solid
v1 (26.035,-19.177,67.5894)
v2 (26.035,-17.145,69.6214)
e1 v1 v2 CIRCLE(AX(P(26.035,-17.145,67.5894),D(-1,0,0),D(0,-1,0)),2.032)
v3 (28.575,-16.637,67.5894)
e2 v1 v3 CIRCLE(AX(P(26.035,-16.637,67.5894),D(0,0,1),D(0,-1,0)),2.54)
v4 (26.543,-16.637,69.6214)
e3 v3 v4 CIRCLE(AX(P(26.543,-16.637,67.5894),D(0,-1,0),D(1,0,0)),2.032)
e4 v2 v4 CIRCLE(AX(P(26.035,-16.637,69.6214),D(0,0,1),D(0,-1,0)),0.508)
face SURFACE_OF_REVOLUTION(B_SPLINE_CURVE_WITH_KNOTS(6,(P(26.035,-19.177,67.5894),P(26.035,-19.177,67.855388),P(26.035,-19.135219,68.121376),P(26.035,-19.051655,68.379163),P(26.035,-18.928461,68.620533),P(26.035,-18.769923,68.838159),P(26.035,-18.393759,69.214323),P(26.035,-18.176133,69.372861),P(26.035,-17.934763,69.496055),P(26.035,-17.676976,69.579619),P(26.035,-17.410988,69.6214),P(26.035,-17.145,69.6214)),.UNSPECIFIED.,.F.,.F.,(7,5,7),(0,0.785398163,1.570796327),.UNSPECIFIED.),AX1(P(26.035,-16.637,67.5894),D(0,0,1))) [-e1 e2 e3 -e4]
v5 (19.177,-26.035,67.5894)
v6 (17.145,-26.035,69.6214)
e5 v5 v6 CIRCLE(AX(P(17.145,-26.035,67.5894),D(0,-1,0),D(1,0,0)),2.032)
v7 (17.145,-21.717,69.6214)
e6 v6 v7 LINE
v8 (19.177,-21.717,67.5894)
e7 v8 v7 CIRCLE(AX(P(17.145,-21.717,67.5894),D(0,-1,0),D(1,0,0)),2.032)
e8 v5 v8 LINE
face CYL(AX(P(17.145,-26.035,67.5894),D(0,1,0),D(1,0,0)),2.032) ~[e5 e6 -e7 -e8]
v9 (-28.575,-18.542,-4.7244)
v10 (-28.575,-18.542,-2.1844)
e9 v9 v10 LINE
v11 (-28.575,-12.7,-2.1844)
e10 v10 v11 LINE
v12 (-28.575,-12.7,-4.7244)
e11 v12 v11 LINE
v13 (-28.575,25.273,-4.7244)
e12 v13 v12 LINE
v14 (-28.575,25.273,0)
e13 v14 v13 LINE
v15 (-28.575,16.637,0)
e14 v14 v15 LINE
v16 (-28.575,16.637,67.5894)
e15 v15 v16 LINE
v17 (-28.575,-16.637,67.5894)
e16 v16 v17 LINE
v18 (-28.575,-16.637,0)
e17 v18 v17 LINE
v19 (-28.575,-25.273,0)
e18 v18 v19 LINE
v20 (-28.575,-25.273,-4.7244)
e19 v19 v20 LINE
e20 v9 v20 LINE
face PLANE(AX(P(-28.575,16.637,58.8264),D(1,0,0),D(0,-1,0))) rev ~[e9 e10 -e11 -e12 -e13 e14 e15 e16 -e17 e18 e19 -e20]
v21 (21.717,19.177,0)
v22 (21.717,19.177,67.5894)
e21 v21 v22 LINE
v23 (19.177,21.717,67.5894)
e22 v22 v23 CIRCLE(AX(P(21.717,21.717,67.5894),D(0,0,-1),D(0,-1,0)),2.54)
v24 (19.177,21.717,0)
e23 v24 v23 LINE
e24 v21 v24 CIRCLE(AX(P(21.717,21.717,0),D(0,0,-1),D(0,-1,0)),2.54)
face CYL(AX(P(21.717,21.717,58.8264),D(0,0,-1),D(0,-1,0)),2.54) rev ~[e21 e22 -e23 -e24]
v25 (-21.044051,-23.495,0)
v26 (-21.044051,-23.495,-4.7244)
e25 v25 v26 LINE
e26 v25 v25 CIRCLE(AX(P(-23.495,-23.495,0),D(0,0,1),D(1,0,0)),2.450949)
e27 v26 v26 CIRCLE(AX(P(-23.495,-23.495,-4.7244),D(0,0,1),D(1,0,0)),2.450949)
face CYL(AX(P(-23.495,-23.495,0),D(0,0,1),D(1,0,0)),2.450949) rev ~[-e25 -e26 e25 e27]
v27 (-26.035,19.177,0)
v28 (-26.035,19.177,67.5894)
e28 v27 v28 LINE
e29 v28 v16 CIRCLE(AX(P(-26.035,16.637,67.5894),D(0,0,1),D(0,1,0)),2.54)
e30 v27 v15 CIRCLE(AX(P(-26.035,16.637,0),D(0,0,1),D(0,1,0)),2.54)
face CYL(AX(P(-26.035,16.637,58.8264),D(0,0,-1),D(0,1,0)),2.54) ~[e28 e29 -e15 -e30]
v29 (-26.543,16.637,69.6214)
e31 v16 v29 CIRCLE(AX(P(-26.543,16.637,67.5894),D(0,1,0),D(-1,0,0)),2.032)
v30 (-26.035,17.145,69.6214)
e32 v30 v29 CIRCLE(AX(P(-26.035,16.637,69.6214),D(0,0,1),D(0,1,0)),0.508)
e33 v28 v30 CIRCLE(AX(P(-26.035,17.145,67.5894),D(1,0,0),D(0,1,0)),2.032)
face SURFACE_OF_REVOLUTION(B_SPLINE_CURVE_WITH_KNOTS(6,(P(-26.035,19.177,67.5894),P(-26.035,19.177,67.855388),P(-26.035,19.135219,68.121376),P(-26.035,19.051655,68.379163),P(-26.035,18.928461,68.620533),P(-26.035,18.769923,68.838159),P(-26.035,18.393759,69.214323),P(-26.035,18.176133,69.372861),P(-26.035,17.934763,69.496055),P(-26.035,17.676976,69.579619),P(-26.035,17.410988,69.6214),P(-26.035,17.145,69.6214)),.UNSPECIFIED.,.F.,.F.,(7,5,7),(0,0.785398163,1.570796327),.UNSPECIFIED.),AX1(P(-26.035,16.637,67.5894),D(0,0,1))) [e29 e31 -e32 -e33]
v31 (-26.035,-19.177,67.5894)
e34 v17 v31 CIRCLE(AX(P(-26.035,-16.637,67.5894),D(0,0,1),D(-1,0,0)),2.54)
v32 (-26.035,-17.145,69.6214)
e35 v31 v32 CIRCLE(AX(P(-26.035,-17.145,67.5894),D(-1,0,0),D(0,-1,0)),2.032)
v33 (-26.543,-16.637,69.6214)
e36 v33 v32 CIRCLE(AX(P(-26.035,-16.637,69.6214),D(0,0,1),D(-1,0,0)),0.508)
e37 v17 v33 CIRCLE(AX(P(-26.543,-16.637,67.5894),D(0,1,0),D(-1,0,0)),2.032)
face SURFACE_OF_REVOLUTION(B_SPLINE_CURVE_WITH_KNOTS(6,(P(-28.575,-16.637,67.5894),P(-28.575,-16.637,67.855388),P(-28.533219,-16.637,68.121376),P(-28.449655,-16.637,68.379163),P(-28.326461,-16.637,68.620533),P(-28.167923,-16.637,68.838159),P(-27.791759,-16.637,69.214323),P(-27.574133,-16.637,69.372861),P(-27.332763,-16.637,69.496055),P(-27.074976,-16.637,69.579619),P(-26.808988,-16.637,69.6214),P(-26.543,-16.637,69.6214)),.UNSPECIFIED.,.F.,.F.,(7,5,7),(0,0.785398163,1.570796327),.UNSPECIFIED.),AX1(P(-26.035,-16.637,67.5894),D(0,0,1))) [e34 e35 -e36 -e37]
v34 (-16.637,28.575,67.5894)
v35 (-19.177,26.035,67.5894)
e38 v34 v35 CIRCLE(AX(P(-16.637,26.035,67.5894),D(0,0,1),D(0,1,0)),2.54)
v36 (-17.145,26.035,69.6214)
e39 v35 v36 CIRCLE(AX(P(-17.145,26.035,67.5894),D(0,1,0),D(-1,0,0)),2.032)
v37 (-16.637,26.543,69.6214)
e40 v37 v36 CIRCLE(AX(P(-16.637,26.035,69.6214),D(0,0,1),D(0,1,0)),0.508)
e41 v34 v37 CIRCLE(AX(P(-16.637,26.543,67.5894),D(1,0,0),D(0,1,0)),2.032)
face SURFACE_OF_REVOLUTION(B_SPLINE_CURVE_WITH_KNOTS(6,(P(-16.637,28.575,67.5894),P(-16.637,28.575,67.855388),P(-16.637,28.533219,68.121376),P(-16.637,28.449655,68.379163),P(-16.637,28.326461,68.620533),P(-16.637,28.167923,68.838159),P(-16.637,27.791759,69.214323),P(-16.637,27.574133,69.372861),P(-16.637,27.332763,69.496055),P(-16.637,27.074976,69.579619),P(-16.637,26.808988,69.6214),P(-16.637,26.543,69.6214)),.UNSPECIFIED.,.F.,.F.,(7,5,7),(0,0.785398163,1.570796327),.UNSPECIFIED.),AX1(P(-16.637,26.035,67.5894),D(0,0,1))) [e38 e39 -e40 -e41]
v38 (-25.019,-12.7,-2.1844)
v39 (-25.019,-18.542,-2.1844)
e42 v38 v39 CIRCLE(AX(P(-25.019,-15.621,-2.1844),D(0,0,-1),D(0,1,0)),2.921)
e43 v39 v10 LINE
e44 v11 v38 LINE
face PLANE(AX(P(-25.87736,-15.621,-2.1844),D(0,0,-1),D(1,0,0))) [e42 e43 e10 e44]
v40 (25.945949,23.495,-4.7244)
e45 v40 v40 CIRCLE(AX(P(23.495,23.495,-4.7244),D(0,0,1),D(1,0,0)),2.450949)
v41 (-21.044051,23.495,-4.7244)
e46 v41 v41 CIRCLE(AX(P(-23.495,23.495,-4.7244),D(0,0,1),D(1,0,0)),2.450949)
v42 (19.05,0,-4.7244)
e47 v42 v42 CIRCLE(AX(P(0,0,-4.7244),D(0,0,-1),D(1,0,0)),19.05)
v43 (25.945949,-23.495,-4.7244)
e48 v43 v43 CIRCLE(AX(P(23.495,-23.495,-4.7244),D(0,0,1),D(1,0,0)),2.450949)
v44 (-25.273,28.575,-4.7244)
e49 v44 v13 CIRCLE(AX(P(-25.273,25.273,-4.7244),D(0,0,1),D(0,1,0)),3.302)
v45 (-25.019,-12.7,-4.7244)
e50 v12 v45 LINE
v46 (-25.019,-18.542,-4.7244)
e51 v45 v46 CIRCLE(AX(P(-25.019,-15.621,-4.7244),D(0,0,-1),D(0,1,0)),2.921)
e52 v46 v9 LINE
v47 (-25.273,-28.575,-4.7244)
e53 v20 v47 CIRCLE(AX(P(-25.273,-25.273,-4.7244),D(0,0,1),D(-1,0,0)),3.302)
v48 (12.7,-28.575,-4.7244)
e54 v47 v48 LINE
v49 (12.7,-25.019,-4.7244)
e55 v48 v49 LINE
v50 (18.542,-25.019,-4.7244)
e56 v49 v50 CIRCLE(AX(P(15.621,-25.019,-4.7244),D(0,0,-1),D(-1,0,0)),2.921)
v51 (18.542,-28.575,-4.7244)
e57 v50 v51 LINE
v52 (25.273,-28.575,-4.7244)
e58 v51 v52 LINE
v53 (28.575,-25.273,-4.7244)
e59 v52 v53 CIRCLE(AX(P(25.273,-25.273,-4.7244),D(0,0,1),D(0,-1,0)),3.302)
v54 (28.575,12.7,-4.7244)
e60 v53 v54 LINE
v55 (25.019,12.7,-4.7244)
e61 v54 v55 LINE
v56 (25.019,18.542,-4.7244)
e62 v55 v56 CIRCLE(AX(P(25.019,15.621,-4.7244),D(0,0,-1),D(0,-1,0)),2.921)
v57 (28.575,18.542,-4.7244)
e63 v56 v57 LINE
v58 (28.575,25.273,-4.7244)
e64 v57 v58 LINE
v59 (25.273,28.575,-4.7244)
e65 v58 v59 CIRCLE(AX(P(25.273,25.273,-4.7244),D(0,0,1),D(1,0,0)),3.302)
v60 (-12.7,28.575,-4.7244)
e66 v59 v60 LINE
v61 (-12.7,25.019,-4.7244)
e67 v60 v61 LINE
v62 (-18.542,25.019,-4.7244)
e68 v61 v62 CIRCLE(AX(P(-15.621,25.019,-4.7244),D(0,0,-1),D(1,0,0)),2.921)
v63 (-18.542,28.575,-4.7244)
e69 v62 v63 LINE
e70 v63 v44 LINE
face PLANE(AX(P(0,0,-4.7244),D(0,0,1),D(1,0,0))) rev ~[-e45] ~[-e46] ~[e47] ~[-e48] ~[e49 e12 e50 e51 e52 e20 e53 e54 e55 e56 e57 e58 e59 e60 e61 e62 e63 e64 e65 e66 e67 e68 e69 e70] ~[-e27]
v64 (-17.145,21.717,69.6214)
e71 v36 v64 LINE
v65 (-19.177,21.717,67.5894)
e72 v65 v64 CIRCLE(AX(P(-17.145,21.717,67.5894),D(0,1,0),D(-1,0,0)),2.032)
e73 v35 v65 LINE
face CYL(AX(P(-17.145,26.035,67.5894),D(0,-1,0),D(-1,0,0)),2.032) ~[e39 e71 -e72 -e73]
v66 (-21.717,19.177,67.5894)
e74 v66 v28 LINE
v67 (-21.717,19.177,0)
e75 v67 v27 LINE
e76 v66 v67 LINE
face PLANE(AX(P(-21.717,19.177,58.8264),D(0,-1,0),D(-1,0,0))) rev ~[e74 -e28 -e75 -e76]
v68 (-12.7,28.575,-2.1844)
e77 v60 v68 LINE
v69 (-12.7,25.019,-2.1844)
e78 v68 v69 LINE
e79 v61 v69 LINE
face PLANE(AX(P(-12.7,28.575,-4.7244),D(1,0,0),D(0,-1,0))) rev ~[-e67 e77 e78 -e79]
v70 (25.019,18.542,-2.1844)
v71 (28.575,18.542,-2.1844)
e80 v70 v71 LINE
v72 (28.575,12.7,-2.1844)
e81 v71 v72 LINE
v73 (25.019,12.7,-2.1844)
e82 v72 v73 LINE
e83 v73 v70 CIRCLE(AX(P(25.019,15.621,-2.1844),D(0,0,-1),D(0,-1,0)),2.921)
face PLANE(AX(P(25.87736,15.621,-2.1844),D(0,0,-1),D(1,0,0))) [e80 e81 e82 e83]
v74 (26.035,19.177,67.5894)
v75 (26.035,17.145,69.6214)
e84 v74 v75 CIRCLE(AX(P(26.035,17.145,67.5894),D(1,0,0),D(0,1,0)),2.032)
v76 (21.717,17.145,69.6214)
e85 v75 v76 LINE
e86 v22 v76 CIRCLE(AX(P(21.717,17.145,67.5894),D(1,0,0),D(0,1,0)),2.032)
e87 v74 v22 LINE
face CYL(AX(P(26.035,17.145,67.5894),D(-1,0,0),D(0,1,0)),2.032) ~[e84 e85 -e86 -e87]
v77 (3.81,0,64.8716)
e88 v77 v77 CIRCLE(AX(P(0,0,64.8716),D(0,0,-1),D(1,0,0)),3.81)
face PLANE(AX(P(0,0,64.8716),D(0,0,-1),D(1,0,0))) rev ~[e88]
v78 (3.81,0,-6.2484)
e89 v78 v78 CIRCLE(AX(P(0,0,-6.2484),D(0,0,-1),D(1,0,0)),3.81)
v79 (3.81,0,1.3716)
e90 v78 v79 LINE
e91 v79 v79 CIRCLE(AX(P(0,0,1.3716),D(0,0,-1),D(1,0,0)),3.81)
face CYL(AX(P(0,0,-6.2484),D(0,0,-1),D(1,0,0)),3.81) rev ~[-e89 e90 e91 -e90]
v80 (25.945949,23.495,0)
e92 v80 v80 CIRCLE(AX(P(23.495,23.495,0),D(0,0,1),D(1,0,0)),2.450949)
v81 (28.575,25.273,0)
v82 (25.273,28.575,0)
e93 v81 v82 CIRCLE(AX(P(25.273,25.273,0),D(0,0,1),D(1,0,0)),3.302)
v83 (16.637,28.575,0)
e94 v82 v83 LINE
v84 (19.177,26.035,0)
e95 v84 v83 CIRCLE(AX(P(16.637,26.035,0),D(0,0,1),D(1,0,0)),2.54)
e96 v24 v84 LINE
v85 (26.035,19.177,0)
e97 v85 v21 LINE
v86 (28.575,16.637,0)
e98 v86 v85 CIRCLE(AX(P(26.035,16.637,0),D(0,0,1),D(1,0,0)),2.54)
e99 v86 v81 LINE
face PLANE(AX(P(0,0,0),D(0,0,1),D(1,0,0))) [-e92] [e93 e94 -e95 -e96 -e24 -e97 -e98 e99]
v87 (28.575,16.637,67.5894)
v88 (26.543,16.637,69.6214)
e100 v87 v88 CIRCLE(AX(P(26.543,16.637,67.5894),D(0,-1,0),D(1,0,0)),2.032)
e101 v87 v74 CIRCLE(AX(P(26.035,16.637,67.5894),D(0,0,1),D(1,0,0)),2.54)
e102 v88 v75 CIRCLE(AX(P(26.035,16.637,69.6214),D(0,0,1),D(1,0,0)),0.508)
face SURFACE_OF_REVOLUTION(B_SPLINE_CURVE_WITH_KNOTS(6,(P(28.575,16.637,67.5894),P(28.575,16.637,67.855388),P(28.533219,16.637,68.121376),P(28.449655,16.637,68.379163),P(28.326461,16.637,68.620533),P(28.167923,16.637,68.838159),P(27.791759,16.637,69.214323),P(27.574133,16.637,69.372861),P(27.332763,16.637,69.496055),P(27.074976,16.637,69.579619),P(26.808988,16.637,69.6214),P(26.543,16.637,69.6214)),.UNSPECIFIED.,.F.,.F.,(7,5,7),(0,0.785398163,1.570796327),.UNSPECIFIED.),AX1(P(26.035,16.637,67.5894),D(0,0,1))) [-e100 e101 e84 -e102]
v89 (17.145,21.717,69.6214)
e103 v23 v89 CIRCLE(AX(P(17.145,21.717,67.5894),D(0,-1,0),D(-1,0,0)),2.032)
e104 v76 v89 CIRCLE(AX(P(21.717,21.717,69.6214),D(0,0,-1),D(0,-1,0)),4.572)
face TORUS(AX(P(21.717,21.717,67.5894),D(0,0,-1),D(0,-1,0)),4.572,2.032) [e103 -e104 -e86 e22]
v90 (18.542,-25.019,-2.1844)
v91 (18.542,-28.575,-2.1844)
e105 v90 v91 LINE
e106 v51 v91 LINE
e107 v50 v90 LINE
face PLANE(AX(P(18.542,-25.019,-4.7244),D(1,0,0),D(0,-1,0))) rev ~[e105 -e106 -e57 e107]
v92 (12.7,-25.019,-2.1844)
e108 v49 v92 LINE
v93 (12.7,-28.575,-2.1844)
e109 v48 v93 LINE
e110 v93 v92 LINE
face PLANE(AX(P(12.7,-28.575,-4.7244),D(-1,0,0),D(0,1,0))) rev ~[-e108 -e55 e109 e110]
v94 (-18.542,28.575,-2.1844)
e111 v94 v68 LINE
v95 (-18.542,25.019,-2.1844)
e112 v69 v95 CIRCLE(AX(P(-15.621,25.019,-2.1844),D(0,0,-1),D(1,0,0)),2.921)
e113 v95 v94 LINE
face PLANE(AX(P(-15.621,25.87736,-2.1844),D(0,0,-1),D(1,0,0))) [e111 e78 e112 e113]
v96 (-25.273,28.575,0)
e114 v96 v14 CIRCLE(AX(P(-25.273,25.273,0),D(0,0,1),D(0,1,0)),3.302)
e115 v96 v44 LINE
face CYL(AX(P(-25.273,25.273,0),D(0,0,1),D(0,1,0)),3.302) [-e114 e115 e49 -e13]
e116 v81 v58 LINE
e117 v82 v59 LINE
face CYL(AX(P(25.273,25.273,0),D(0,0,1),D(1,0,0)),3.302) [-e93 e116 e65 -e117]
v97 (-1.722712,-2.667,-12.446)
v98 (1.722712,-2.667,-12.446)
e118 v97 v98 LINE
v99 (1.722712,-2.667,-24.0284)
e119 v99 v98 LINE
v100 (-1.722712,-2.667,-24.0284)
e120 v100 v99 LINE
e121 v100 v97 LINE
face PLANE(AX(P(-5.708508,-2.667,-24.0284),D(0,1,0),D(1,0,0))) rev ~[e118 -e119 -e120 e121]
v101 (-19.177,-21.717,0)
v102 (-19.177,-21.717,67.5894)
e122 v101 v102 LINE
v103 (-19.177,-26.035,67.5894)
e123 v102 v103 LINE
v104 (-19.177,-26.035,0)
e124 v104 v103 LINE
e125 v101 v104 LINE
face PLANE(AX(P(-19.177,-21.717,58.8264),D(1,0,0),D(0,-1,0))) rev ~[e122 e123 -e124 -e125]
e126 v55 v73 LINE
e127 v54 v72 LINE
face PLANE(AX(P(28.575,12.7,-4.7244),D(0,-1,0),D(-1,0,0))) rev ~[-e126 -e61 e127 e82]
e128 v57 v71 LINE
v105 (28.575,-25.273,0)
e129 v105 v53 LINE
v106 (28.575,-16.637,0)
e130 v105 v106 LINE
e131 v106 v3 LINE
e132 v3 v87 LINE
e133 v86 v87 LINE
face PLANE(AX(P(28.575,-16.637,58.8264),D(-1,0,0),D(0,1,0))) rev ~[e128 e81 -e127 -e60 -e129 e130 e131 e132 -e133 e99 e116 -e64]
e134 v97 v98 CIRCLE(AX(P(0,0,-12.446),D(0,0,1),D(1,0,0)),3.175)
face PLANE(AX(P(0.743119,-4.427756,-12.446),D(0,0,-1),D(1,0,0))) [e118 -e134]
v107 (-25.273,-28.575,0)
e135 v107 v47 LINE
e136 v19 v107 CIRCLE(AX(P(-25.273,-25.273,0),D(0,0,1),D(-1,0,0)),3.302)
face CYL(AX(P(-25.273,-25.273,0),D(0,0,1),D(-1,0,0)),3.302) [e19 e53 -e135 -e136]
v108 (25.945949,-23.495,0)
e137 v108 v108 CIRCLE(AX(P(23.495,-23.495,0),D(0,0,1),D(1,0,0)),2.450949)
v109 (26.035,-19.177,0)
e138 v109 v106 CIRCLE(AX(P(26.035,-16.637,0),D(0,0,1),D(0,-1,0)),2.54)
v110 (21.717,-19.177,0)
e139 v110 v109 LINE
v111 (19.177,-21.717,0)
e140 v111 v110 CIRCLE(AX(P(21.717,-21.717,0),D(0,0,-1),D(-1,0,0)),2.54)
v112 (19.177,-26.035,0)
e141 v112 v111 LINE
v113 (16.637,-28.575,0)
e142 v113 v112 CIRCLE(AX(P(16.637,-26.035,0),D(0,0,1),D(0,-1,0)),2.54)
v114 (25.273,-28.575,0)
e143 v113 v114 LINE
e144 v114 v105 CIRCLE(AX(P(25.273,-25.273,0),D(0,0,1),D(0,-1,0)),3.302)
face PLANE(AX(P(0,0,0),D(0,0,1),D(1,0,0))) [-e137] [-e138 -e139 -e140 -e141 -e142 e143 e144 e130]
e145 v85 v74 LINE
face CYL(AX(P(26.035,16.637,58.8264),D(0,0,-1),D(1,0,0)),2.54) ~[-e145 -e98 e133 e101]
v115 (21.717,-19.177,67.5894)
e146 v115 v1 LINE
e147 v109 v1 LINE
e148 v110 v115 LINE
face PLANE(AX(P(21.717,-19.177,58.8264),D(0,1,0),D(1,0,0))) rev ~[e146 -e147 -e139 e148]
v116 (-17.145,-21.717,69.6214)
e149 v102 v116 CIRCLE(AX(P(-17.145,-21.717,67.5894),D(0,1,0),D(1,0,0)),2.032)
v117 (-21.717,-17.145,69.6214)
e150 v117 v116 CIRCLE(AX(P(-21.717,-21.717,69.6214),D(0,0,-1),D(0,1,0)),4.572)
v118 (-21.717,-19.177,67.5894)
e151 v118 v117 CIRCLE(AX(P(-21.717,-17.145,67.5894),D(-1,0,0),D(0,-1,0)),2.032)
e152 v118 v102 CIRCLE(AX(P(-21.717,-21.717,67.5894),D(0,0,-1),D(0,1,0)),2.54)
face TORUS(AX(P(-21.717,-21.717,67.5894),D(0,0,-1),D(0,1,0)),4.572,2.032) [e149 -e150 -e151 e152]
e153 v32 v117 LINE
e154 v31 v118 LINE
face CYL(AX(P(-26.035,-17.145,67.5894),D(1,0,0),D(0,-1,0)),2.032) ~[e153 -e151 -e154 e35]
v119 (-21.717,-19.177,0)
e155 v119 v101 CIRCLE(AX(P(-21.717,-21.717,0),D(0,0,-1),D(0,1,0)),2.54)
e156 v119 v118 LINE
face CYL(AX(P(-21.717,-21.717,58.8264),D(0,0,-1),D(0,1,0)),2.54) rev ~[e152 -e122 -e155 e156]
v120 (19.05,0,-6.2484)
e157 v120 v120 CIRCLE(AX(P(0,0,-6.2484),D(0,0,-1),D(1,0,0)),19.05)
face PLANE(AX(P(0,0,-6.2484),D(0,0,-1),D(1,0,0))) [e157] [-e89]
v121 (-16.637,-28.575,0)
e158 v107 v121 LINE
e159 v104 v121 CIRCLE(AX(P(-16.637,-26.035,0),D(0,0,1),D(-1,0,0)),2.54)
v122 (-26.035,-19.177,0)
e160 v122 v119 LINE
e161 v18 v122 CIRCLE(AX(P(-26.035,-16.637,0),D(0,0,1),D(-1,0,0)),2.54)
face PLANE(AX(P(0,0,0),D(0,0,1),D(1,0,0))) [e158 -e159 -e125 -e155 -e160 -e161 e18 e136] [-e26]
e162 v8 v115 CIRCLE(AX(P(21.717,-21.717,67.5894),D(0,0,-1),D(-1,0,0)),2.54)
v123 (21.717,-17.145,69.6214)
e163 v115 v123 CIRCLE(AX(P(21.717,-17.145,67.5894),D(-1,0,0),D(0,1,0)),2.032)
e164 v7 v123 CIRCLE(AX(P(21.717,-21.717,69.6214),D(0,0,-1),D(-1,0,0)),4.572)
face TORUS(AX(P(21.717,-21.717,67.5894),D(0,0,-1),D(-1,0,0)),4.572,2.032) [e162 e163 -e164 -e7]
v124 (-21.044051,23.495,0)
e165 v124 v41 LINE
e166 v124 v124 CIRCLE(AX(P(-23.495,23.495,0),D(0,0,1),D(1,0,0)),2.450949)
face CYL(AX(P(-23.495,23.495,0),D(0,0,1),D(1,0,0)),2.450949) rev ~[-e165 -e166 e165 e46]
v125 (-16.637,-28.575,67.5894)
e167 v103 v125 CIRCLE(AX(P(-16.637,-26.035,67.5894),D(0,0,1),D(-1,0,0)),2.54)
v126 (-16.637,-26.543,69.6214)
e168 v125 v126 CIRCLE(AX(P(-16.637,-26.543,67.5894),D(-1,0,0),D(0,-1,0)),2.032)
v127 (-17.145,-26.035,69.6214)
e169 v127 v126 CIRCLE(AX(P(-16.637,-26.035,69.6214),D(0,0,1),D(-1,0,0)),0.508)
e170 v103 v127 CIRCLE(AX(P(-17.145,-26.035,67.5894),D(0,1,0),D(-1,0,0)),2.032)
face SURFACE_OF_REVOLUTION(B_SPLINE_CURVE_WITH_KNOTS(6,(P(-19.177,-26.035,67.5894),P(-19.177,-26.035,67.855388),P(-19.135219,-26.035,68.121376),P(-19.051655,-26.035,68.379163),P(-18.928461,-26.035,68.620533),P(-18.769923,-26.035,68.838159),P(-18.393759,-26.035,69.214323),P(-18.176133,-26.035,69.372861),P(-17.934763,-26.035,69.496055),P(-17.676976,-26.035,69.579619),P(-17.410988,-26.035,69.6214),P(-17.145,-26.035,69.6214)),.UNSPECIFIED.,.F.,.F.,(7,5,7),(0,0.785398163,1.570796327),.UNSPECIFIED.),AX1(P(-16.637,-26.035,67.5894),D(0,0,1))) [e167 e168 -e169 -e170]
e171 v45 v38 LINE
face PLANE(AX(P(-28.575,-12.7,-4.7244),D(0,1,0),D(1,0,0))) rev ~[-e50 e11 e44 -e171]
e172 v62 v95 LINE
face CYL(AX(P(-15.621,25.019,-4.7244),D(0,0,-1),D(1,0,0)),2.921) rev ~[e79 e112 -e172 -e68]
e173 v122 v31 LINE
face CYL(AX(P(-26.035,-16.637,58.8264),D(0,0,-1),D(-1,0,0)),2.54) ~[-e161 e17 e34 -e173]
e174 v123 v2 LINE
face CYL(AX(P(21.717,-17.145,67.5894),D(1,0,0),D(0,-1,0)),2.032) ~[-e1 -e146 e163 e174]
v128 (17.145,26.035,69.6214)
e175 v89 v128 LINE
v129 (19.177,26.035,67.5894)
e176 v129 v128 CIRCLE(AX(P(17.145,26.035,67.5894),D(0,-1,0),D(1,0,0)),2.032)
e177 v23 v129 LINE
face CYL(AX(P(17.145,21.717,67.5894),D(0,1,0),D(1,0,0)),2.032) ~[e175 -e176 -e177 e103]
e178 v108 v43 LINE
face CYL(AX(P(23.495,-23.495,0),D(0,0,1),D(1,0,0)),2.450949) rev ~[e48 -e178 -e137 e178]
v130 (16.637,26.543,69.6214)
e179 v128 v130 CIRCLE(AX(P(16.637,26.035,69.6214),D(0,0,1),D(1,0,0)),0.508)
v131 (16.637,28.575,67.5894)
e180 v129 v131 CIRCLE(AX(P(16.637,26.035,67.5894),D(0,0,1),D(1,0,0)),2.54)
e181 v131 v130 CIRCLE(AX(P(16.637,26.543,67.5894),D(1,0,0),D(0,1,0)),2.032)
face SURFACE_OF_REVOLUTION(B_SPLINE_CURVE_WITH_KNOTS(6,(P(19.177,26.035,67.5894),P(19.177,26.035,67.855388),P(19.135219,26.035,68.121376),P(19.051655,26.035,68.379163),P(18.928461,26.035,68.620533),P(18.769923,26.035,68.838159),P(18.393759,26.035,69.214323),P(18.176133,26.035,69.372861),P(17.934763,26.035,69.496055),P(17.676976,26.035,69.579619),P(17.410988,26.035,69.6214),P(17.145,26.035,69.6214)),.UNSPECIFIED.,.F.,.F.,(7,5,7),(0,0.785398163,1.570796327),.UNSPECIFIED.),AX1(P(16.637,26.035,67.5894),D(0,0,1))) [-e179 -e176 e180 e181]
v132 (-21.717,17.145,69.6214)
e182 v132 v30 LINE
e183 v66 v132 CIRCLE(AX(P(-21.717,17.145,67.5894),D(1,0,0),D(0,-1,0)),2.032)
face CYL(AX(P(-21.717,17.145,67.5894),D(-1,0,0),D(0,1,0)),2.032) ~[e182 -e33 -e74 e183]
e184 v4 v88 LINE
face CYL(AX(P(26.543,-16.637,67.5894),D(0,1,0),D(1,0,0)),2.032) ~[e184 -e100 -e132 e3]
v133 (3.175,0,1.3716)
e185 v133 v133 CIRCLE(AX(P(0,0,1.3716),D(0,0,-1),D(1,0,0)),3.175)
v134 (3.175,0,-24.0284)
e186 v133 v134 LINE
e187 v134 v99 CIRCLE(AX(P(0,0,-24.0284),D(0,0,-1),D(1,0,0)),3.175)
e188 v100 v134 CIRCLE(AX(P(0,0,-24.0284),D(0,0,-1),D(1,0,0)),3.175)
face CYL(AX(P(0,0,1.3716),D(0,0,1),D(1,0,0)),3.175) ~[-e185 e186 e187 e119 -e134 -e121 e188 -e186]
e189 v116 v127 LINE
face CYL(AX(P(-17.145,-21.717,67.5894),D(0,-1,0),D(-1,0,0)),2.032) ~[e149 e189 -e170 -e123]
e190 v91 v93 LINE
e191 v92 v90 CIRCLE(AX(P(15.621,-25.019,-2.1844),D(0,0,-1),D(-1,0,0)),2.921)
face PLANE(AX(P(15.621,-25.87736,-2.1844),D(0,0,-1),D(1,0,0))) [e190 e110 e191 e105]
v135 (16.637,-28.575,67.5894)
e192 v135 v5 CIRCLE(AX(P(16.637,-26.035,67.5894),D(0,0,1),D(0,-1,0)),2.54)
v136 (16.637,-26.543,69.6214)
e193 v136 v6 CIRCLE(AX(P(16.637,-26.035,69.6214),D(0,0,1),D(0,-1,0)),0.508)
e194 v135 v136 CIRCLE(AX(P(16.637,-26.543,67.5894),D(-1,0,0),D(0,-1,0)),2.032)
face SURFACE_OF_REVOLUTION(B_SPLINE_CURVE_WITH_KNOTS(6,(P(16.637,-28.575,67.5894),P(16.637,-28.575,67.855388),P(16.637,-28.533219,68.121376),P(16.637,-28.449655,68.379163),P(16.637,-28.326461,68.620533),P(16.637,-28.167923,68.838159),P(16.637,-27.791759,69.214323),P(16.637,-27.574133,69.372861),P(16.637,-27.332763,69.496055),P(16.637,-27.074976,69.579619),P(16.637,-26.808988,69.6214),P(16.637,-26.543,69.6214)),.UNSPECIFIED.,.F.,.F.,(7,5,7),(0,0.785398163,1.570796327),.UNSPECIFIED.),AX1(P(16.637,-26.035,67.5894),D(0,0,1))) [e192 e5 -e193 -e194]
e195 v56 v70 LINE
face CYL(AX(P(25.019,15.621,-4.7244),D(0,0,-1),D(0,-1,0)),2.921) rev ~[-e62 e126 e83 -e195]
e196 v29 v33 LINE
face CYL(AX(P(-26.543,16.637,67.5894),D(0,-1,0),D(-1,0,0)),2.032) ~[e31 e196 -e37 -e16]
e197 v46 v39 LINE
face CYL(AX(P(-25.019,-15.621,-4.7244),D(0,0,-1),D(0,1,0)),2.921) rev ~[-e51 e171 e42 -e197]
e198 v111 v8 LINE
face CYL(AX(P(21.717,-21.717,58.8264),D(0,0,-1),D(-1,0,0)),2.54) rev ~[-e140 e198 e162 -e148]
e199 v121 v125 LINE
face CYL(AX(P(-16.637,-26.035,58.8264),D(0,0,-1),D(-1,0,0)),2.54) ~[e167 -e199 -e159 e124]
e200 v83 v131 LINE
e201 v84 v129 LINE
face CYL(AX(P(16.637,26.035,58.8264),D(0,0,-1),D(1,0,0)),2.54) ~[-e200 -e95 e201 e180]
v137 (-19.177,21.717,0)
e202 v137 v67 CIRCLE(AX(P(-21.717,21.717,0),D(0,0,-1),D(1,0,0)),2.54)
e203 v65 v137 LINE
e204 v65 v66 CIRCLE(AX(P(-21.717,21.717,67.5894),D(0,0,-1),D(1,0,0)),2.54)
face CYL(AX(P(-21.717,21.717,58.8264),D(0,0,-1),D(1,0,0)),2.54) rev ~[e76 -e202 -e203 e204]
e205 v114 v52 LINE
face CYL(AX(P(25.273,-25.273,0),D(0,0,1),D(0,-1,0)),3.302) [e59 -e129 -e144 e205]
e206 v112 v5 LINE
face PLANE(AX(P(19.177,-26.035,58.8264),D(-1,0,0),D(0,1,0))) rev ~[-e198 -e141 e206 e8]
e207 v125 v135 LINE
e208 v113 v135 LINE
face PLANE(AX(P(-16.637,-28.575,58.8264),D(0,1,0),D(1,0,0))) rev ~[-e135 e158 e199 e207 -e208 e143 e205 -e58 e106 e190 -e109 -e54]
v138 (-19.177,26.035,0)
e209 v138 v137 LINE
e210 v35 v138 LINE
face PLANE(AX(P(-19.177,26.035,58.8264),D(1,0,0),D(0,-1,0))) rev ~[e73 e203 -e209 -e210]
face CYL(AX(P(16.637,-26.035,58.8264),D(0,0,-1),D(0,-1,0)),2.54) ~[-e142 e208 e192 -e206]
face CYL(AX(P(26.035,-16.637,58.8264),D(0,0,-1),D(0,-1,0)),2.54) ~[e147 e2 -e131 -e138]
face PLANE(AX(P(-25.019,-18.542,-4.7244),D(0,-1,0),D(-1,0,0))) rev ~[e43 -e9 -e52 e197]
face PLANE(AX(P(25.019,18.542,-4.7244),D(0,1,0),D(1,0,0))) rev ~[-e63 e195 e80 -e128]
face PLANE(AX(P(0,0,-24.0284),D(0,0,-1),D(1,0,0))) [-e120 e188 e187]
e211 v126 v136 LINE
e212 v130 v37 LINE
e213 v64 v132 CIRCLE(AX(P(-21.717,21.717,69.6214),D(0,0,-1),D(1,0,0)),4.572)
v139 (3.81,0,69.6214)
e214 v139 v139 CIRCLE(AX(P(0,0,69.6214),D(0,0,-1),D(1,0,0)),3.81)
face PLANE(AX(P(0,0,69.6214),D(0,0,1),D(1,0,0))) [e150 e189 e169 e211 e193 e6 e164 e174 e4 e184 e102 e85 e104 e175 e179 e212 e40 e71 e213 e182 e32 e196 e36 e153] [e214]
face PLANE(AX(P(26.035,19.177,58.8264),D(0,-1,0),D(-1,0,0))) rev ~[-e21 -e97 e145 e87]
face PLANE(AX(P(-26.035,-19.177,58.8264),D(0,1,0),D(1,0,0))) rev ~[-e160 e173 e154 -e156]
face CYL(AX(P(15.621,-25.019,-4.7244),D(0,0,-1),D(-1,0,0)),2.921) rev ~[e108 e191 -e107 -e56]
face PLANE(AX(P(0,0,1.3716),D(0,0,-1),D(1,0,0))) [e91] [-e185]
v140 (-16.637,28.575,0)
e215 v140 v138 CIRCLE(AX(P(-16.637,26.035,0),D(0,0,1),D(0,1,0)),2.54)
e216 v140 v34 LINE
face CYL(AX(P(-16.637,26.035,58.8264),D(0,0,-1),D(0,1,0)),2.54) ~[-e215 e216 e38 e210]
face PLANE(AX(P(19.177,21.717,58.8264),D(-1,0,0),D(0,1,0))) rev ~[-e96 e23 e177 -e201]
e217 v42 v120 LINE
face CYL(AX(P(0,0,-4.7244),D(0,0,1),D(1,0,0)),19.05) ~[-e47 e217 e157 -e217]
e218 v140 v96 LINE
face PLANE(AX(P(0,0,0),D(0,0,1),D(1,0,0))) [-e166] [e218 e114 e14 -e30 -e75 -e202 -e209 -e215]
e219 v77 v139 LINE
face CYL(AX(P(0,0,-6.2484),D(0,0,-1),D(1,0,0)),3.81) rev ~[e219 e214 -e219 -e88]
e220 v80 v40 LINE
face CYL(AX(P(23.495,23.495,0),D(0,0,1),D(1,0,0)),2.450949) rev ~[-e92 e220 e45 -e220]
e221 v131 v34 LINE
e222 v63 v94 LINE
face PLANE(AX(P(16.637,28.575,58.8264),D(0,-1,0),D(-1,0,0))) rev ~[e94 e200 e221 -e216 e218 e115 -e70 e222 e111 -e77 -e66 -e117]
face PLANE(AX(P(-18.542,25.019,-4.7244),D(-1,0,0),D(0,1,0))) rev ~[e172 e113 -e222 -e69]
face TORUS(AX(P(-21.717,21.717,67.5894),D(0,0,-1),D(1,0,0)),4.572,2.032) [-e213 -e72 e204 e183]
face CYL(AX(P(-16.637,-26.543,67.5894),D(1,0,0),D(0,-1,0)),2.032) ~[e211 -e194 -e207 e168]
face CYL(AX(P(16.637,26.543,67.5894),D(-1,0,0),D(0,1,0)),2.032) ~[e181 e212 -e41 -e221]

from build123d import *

# Parameters (mm, degrees)
F0_R      = 2.4509487717
F1_DEPTH  = 4.7244
F2_R      = 19.05
F3_DEPTH  = 1.524
F5_DEPTH  = 2.54
F7_DEPTH  = 5.842
F8_DEPTH  = 52.9844
F9_DEPTH  = 10.795
F10_R     = 2.032
F12_R     = 3.81
F13_DEPTH = 75.8698
F16_R     = 3.81
F17_DEPTH = 63.5
F18_R     = 3.175
F19_DEPTH = 25.4
F21_DEPTH = 11.5824


with BuildPart() as f1:
    # F0 (on Top) → F1 (new body)
    with BuildSketch(Plane.XY):
        with BuildLine():
            Line((25.273, 28.575), (-25.273, 28.575))
            ThreePointArc((-25.273, 28.575), (-27.6078665915, 27.6078665915), (-28.575, 25.273))
            Line((-28.575, 25.273), (-28.575, -25.273))
            ThreePointArc((-28.575, -25.273), (-27.6078665915, -27.6078665915), (-25.273, -28.575))
            Line((-25.273, -28.575), (25.273, -28.575))
            ThreePointArc((25.273, -28.575), (27.6078665915, -27.6078665915), (28.575, -25.273))
            Line((28.575, -25.273), (28.575, 25.273))
            ThreePointArc((28.575, 25.273), (27.6078665915, 27.6078665915), (25.273, 28.575))
        make_face()
        with Locations((-23.495, -23.495)):
            Circle(F0_R, mode=Mode.SUBTRACT)
        with Locations((23.495, -23.495)):
            Circle(F0_R, mode=Mode.SUBTRACT)
        with Locations((-23.495, 23.495)):
            Circle(F0_R, mode=Mode.SUBTRACT)
        with Locations((23.495, 23.495)):
            Circle(F0_R, mode=Mode.SUBTRACT)
    extrude(amount=-F1_DEPTH)

    # F2 (on face) → F3 (join)
    with BuildSketch(Plane(origin=(0, 0, -4.7244), x_dir=(1, 0, 0), z_dir=(0, 0, -1))):
        Circle(F2_R)
    extrude(amount=F3_DEPTH)

    # F4 (on face) → F5 (cut)
    with BuildSketch(Plane(origin=(0, 0, -4.7244), x_dir=(1, 0, 0), z_dir=(0, 0, -1))):
        with BuildLine():
            Line((-28.575, 12.7), (-25.019, 12.7))
            ThreePointArc((-25.019, 12.7), (-22.098, 15.621), (-25.019, 18.542))
            Line((-25.019, 18.542), (-28.575, 18.542))
            Line((-28.575, 18.542), (-28.575, 12.7))
        make_face()
        with BuildLine():
            Line((28.575, -12.7), (25.019, -12.7))
            ThreePointArc((25.019, -12.7), (22.098, -15.621), (25.019, -18.542))
            Line((25.019, -18.542), (28.575, -18.542))
            Line((28.575, -18.542), (28.575, -12.7))
        make_face()
        with BuildLine():
            Line((12.7, 28.575), (12.7, 25.019))
            ThreePointArc((12.7, 25.019), (15.621, 22.098), (18.542, 25.019))
            Line((18.542, 25.019), (18.542, 28.575))
            Line((18.542, 28.575), (12.7, 28.575))
        make_face()
        with BuildLine():
            ThreePointArc((-12.7, -25.019), (-15.621, -22.098), (-18.542, -25.019))
            Line((-18.542, -25.019), (-18.542, -28.575))
            Line((-18.542, -28.575), (-12.7, -28.575))
            Line((-12.7, -28.575), (-12.7, -25.019))
        make_face()
    extrude(amount=-F5_DEPTH, mode=Mode.SUBTRACT)

    # F6 (on face) → F7 (join)
    with BuildSketch(Plane.XY):
        with BuildLine():
            Line((-21.717, 19.177), (-26.035, 19.177))
            ThreePointArc((-26.035, 19.177), (-27.8310512242, 18.4330512242), (-28.575, 16.637))
            Line((-28.575, 16.637), (-28.575, 0))
            Line((-28.575, 0), (-28.575, -16.637))
            ThreePointArc((-28.575, -16.637), (-27.8310512242, -18.4330512242), (-26.035, -19.177))
            Line((-26.035, -19.177), (-21.717, -19.177))
            ThreePointArc((-21.717, -19.177), (-19.9209487758, -19.9209487758), (-19.177, -21.717))
            Line((-19.177, -21.717), (-19.177, -26.035))
            ThreePointArc((-19.177, -26.035), (-18.4330512242, -27.8310512242), (-16.637, -28.575))
            Line((-16.637, -28.575), (16.637, -28.575))
            ThreePointArc((16.637, -28.575), (18.4330512242, -27.8310512242), (19.177, -26.035))
            Line((19.177, -26.035), (19.177, -21.717))
            ThreePointArc((19.177, -21.717), (19.9209487758, -19.9209487758), (21.717, -19.177))
            Line((21.717, -19.177), (26.035, -19.177))
            ThreePointArc((26.035, -19.177), (27.8310512242, -18.4330512242), (28.575, -16.637))
            Line((28.575, -16.637), (28.575, 0))
            Line((28.575, 0), (28.575, 16.637))
            ThreePointArc((28.575, 16.637), (27.8310512242, 18.4330512242), (26.035, 19.177))
            Line((26.035, 19.177), (21.717, 19.177))
            ThreePointArc((21.717, 19.177), (19.9209487758, 19.9209487758), (19.177, 21.717))
            Line((19.177, 21.717), (19.177, 26.035))
            ThreePointArc((19.177, 26.035), (18.4330512242, 27.8310512242), (16.637, 28.575))
            Line((16.637, 28.575), (-16.637, 28.575))
            ThreePointArc((-16.637, 28.575), (-18.4330512242, 27.8310512242), (-19.177, 26.035))
            Line((-19.177, 26.035), (-19.177, 21.717))
            ThreePointArc((-19.177, 21.717), (-19.9209487758, 19.9209487758), (-21.717, 19.177))
        make_face()
    extrude(amount=F7_DEPTH)

    # F8 (add): a face of the model
    f8_faces = [f1.faces().sort_by_distance(p)[0] for p in [
        (0, 0, 5.842),
    ]]
    extrude(f8_faces, amount=F8_DEPTH)

    # F9 (add): a face of the model
    f9_faces = [f1.faces().sort_by_distance(p)[0] for p in [
        (0, 0, 58.8264),
    ]]
    extrude(f9_faces, amount=F9_DEPTH)

    # F10
    f10_edges = [f1.edges().sort_by_distance(p)[0] for p in [
        (-28.575, 0, 69.6214),
    ]]
    fillet(f10_edges, radius=F10_R)

    # F12 (on face) → F13 (cut, through all)
    with BuildSketch(Plane(origin=(0, 0, -6.2484), x_dir=(1, 0, 0), z_dir=(0, 0, -1))):
        Circle(F12_R)
    extrude(amount=-F13_DEPTH, mode=Mode.SUBTRACT)

    # F16 (on offset) → F17 (join)
    with BuildSketch(Plane(origin=(0, 0, 1.3716), x_dir=(1, 0, 0), z_dir=(0, 0, -1))):
        Circle(F16_R)
    extrude(amount=-F17_DEPTH)

    # F18 (on offset) → F19 (join)
    with BuildSketch(Plane(origin=(0, 0, 1.3716), x_dir=(1, 0, 0), z_dir=(0, 0, -1))):
        Circle(F18_R)
    extrude(amount=F19_DEPTH)

    # F20 (on face) → F21 (cut)
    with BuildSketch(Plane(origin=(0, 0, -24.0284), x_dir=(1, 0, 0), z_dir=(0, 0, -1))):
        Polygon((-5.7085081935, 6.1885123141), (-5.7085081935, 2.667), (7.1385717019, 2.667), (7.1947467513, 2.667), (7.1947467513, 6.1885123141), align=None)
    extrude(amount=-F21_DEPTH, mode=Mode.SUBTRACT)


solid = f1.part
